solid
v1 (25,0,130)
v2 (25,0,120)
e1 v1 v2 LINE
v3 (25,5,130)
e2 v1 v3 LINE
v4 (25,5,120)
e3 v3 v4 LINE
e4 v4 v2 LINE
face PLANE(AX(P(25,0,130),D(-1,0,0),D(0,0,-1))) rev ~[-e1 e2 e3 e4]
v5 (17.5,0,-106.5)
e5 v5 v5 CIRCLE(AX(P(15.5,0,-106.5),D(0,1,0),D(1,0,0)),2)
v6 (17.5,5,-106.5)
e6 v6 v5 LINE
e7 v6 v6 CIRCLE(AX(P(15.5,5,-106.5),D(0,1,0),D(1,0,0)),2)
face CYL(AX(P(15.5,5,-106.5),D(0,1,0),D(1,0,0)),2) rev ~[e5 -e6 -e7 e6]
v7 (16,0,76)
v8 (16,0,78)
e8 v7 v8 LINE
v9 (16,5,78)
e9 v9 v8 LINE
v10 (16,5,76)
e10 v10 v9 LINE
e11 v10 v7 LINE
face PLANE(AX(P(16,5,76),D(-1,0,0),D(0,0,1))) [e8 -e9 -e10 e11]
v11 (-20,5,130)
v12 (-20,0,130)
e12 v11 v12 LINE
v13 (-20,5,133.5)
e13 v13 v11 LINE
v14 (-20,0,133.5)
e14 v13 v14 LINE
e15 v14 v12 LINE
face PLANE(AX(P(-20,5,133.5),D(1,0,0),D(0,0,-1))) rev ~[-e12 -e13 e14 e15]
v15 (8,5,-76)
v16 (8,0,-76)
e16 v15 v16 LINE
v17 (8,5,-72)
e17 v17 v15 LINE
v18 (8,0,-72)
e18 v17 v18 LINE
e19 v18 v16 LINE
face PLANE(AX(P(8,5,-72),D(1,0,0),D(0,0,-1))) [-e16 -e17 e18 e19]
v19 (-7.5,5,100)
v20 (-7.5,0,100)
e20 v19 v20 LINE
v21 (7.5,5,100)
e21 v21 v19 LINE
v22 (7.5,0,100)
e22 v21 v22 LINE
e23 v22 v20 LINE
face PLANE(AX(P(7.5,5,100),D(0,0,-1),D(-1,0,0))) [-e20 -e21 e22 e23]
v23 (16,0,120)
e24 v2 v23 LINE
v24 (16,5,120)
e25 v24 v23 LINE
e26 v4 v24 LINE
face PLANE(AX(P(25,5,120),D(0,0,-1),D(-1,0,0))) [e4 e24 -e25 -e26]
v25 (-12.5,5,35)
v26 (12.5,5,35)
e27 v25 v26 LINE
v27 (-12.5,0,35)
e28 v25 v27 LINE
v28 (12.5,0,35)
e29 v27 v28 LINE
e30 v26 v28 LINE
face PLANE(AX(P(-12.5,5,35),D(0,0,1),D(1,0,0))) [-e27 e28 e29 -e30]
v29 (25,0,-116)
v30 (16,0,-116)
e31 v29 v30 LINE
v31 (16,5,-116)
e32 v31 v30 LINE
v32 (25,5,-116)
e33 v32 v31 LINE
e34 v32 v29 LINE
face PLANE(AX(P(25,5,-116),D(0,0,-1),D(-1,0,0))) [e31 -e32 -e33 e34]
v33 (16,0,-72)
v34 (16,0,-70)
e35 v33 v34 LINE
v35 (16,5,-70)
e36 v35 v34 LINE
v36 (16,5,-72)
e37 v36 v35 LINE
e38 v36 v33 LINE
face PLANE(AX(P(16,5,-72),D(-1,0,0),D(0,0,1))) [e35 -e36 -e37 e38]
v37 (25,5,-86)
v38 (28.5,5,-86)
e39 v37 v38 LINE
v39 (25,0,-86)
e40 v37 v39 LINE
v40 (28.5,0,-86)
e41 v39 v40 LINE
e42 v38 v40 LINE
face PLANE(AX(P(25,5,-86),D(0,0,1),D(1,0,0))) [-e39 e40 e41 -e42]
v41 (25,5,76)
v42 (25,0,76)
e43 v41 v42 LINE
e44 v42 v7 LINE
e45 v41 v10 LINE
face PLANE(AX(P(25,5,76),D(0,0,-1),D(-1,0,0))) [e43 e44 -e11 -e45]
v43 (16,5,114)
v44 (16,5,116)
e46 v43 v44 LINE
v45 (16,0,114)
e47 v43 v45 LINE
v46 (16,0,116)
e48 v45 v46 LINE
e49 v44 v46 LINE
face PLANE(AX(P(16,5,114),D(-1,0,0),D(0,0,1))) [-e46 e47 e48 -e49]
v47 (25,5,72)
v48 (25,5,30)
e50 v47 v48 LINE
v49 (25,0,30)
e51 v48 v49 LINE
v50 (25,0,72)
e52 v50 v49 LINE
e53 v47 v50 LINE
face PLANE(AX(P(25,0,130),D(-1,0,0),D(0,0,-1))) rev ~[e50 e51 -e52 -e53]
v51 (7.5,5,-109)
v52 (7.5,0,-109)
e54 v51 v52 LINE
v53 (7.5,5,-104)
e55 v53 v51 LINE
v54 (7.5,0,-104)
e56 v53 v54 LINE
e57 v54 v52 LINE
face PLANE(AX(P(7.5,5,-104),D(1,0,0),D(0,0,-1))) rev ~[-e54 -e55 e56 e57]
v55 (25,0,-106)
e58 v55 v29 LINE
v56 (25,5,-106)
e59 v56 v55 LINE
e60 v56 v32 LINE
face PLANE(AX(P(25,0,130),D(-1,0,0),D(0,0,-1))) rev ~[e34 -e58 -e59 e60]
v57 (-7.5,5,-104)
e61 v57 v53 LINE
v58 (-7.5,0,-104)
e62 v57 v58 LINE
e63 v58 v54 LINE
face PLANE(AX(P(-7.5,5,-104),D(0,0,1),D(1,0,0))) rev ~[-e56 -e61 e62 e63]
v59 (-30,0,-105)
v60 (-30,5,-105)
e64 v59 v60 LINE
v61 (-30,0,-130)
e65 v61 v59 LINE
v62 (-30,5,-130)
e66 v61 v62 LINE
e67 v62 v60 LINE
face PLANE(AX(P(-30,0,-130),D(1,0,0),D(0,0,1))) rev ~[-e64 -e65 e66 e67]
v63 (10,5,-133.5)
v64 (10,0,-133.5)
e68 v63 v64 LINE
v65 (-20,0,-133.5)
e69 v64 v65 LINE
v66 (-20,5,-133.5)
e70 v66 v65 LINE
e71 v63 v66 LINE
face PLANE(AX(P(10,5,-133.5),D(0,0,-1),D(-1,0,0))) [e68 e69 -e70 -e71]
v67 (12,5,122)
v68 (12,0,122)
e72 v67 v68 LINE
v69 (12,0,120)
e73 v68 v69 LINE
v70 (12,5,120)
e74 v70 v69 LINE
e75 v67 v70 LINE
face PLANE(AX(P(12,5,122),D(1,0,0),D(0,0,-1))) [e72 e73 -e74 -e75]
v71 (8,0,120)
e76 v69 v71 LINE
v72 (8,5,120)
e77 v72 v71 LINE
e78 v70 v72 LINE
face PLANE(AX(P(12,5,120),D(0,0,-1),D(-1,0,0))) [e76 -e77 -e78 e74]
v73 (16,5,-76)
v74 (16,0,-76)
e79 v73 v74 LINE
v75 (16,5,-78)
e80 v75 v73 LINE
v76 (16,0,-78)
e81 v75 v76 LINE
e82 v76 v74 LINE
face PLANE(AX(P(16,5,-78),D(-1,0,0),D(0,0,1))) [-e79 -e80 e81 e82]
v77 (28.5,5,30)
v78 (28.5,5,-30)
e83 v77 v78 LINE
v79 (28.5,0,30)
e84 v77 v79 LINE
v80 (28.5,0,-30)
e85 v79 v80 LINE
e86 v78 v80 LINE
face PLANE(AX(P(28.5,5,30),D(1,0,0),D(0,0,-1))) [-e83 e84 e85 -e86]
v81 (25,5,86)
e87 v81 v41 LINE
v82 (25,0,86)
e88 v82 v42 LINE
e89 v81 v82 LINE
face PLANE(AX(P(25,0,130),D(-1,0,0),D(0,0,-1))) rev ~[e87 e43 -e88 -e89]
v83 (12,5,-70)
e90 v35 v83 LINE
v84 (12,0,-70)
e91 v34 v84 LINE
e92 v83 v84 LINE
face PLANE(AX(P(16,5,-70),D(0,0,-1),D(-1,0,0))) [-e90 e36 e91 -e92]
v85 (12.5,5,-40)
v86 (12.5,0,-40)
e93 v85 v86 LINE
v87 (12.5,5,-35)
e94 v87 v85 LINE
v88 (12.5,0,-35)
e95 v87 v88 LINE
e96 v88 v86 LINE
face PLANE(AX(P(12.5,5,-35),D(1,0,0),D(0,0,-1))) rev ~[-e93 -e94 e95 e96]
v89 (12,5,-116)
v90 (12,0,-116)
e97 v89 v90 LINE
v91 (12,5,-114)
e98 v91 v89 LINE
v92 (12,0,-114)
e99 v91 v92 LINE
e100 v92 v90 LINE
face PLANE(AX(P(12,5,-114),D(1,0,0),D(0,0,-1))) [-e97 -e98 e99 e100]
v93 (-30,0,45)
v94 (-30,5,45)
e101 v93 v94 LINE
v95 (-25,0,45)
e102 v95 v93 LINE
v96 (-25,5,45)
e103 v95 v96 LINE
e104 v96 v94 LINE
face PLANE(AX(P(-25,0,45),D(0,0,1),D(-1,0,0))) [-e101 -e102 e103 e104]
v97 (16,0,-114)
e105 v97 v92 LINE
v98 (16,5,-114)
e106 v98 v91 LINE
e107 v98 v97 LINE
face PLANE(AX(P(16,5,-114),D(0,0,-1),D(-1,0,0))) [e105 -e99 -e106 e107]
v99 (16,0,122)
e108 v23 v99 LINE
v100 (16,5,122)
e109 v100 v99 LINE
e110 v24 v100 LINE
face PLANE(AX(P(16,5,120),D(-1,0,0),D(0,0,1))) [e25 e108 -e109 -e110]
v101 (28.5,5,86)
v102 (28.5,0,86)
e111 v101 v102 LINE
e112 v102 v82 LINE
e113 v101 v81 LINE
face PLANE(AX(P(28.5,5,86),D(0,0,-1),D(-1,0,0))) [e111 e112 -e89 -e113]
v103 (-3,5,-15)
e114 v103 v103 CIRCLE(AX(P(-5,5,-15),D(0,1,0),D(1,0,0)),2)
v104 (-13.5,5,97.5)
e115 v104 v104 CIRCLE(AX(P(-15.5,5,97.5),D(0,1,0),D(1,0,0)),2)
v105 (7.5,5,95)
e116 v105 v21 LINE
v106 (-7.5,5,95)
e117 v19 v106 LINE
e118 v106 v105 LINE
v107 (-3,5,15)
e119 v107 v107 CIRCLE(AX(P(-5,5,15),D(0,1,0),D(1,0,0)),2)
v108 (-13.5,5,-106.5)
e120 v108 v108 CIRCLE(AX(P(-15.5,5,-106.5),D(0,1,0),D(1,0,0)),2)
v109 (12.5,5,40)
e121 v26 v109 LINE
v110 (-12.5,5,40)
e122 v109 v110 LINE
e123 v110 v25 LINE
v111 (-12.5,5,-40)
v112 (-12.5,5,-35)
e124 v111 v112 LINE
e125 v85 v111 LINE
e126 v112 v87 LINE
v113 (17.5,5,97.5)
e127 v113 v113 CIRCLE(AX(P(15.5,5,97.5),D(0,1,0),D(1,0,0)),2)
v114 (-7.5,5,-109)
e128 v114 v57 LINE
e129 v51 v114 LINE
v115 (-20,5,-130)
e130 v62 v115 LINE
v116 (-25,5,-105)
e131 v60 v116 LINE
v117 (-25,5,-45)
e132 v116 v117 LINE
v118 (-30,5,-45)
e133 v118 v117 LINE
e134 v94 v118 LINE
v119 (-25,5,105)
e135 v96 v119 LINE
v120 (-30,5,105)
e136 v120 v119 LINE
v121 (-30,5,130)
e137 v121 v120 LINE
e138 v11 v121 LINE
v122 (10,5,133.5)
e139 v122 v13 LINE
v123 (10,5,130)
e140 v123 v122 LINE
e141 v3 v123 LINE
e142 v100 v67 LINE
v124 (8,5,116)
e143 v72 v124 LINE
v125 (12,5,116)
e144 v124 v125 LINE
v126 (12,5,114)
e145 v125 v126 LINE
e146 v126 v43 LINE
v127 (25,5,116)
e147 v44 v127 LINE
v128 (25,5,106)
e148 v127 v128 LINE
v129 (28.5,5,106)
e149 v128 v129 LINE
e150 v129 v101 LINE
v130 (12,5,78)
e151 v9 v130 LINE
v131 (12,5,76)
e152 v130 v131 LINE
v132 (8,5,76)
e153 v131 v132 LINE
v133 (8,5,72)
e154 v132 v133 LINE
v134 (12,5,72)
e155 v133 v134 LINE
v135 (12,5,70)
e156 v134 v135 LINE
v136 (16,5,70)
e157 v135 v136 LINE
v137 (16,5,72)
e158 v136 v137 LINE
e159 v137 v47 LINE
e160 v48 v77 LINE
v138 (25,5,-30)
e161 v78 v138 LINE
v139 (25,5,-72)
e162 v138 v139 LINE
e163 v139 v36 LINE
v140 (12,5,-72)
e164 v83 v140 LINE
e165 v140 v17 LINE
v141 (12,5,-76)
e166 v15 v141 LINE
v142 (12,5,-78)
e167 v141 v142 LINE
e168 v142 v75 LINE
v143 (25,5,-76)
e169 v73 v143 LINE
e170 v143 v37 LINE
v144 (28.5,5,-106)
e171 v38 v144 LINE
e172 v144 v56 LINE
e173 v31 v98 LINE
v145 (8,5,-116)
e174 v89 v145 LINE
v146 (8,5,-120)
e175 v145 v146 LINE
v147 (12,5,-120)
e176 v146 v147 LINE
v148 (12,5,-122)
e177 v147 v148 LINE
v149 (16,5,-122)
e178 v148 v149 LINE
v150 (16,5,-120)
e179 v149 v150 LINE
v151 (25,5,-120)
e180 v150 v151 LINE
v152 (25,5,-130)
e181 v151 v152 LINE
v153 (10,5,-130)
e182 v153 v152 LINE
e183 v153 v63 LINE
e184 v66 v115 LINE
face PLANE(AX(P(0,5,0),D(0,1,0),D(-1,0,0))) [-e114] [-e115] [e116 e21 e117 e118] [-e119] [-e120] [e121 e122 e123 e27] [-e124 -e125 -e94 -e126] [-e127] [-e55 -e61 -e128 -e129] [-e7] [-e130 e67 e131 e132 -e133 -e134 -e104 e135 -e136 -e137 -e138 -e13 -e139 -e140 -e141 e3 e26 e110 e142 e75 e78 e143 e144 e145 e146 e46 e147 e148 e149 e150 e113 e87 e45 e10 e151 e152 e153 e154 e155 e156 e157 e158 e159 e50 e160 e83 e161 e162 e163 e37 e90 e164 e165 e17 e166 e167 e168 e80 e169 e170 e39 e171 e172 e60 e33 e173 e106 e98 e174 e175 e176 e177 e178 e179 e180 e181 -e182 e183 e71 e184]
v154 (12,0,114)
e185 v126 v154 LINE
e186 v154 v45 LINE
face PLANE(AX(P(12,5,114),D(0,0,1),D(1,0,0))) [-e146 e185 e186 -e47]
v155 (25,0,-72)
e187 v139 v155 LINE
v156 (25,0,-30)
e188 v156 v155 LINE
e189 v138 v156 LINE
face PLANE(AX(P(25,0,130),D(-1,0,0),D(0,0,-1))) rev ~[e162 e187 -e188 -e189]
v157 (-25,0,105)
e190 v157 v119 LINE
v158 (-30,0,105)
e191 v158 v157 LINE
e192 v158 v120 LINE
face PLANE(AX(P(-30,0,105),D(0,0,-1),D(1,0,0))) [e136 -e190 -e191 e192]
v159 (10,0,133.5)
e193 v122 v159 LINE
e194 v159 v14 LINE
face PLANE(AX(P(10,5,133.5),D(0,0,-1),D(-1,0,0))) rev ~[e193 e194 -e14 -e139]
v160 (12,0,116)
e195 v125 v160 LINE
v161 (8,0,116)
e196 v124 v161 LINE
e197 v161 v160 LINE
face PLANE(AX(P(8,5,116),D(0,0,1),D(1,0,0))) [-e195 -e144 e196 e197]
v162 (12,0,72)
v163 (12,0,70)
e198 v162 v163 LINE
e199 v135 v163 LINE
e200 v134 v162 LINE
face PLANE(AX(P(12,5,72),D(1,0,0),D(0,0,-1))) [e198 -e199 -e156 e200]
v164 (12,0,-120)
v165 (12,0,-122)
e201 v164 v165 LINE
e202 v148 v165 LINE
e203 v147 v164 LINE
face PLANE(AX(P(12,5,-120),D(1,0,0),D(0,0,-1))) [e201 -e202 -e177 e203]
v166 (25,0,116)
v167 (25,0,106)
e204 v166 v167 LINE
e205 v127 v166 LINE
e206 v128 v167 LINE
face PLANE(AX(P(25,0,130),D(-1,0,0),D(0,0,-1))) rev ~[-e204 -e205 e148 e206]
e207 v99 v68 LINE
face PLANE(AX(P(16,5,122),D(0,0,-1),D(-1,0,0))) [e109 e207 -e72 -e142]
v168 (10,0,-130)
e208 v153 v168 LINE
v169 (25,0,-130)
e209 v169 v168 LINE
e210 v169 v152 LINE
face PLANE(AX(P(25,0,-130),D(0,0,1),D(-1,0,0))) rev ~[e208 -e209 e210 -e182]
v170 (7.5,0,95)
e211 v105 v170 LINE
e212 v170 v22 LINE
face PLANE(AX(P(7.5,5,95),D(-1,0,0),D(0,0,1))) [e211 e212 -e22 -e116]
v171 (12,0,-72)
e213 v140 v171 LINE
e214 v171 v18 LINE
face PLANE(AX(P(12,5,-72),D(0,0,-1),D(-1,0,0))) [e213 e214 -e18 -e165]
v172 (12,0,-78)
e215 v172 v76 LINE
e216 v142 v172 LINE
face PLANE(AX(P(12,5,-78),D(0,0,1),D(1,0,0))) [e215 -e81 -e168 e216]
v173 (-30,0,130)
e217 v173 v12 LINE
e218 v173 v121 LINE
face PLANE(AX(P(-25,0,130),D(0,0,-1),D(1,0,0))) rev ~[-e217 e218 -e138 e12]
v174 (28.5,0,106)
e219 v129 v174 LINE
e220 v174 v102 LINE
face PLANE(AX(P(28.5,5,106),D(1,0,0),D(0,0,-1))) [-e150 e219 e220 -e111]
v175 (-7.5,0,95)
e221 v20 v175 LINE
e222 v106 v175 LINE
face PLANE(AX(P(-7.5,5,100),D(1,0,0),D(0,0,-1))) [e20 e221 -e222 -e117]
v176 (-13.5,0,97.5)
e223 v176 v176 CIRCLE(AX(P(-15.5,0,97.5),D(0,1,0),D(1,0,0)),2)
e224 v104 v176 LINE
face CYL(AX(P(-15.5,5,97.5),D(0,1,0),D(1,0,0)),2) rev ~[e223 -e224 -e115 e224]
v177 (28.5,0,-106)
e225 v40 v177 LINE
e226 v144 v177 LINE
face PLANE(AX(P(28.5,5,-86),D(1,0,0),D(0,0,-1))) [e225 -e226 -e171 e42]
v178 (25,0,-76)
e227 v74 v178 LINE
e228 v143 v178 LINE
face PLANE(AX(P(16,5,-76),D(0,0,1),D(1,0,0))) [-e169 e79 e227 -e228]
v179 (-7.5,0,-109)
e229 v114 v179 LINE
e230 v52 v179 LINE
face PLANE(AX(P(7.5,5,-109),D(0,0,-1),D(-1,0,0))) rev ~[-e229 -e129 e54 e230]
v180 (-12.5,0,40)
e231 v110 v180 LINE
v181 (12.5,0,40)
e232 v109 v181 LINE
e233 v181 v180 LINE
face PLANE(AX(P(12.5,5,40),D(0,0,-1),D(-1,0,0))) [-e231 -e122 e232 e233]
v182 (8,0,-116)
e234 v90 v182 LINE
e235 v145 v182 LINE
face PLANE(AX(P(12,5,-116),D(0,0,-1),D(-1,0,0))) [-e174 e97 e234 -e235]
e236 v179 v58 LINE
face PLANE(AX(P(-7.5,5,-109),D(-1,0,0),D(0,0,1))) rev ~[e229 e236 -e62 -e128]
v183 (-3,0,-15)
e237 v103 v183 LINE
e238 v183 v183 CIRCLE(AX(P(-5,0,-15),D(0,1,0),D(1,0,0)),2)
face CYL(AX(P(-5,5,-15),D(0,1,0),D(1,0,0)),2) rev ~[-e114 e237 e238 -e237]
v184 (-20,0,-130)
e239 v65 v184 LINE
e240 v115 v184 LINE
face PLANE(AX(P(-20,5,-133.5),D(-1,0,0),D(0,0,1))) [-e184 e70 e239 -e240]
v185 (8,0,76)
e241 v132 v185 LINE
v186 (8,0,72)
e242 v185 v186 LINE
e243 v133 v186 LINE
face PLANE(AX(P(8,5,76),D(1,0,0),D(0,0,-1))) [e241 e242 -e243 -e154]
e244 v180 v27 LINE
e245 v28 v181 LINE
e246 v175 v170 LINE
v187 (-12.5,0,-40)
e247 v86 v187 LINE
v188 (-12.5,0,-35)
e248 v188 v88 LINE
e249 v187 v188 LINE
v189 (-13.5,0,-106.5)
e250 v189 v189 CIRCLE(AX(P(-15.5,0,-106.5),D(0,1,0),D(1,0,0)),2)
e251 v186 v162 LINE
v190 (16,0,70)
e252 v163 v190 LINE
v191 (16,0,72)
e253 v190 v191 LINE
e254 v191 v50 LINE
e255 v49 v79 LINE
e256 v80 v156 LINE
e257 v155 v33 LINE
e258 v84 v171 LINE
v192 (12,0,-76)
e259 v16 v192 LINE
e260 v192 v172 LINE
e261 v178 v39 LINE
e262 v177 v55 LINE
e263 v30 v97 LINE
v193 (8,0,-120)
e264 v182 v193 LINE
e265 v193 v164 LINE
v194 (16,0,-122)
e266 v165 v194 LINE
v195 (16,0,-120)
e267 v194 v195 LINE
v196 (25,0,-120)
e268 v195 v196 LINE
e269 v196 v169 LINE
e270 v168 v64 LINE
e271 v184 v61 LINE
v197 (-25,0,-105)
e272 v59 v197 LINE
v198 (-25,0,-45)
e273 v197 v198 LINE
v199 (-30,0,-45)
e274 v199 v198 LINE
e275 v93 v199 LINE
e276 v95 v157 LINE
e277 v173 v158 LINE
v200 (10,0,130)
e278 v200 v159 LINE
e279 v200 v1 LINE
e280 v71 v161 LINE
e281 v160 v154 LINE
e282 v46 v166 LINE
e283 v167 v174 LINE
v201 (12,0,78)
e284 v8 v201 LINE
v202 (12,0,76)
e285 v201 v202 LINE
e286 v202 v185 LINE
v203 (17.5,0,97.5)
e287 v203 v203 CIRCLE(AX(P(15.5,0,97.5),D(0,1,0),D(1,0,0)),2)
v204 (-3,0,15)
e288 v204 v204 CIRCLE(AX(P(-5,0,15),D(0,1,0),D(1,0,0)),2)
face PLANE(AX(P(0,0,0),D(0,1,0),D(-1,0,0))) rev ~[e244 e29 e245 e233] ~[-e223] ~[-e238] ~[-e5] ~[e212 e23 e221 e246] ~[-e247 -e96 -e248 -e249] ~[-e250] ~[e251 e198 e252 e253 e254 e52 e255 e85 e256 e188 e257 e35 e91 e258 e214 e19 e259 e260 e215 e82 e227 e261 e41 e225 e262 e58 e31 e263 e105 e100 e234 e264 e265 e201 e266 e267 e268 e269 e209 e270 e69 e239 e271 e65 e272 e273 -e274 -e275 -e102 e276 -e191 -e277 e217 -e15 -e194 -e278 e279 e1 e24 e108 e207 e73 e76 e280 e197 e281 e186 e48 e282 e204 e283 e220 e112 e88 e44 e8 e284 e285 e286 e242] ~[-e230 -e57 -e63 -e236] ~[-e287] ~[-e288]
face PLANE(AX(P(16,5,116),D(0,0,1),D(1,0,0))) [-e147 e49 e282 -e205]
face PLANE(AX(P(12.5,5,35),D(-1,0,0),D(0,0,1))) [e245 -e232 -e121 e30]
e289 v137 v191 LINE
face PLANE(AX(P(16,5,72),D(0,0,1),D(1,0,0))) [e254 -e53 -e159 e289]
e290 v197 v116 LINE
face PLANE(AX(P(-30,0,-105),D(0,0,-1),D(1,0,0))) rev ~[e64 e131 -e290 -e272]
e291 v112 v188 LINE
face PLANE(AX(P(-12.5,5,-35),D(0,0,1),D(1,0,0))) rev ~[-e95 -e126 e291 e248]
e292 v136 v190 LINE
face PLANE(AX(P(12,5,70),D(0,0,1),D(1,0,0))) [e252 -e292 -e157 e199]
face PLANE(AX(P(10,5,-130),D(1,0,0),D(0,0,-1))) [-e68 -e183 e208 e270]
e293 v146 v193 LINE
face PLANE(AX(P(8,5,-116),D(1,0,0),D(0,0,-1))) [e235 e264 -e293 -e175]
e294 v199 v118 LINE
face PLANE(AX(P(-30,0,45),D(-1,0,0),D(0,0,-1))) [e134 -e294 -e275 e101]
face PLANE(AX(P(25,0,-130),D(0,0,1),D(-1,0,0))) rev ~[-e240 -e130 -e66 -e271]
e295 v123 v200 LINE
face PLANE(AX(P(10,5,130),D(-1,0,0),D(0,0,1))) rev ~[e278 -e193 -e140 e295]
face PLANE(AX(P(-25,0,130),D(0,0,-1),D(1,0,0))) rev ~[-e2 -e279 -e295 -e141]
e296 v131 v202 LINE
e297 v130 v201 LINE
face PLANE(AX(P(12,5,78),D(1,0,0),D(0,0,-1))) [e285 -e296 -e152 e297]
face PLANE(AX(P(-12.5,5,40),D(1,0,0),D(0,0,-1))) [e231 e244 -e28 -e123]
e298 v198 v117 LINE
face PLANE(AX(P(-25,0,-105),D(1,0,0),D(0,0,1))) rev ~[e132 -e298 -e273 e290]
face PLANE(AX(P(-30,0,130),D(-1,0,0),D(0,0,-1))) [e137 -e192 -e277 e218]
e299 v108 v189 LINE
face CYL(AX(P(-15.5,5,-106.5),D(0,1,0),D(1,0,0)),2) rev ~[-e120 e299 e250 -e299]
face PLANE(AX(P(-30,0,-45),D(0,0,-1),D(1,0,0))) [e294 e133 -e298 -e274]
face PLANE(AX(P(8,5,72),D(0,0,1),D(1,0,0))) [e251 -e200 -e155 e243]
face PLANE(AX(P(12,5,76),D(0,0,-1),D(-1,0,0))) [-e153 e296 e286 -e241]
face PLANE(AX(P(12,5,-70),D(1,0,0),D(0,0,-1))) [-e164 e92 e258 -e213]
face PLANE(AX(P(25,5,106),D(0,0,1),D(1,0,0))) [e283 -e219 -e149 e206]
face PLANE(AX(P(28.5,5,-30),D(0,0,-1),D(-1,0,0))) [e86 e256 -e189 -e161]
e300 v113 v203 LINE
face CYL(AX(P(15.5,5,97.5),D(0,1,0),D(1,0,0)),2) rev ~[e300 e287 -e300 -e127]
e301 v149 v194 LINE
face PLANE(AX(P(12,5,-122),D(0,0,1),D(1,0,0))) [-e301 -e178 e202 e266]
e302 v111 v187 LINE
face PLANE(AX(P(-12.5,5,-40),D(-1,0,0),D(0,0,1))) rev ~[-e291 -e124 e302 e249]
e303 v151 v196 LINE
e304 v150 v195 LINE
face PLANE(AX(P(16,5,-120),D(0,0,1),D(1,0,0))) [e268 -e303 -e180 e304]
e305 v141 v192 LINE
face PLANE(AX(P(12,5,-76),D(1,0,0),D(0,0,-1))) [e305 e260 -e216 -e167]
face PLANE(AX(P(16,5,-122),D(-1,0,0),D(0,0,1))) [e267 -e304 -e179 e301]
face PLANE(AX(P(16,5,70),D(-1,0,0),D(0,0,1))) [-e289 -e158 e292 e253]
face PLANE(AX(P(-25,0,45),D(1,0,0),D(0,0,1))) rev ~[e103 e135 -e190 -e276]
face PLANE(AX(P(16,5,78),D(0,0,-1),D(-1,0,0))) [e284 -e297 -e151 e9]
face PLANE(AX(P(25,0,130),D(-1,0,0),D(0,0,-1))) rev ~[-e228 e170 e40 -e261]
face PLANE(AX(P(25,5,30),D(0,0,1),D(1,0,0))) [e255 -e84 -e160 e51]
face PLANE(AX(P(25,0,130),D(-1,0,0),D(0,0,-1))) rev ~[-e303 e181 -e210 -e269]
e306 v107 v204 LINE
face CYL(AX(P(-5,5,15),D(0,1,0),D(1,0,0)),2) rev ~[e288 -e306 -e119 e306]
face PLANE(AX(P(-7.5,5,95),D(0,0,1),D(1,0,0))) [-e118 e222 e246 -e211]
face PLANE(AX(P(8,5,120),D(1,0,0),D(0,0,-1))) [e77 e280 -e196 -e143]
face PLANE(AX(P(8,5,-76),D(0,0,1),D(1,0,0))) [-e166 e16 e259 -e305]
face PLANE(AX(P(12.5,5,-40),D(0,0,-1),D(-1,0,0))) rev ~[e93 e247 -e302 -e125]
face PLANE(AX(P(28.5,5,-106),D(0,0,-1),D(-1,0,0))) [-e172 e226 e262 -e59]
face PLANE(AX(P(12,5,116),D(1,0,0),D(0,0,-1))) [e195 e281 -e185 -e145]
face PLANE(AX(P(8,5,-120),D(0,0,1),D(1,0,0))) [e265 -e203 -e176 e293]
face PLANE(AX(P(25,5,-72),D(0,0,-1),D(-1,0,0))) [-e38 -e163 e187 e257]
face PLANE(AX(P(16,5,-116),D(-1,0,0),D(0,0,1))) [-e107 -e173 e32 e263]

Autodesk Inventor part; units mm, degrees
ref_plane "YZ Plane" through (0, 0, 0) normal (1, 0, 0) x (0, 1, 0)
ref_plane "XZ Plane" through (0, 0, 0) normal (0, 1, 0) x (-1, 0, 0)
ref_plane "XY Plane" through (0, 0, 0) normal (0, 0, 1) x (1, 0, 0)
sketch "Sketch1" plane through (0, 0, 0) normal (0, 1, 0) x (-1, 0, 0)
  line L0 (-25, -130) -> (25, -130)
  line L1 (25, 130) -> (-25, 130)
  line L2 (-25, 130) -> (-25, -130)
  line L3 (-25, -130) -> (25, 130) construction
  line L4 (25, -130) -> (-25, 130) construction
  line L5 (25, 130) -> (30, 130)
  line L6 (30, 130) -> (30, 105)
  line L7 (30, 105) -> (25, 105)
  line L8 (25, -130) -> (30, -130)
  line L9 (30, -130) -> (30, -105)
  line L10 (30, -105) -> (25, -105)
  line L11 (25, 105) -> (-25, 105) construction
  line L12 (3.2055, 0) -> (-25, 0) construction
  line L13 (25, -105) -> (-25, -105) construction
  line L14 (25, 45) -> (30, 45)
  line L15 (30, 45) -> (30, -45)
  line L16 (30, -45) -> (25, -45)
  line L17 (25, -105) -> (25, -45)
  line L18 (25, 45) -> (25, 105)
  point P0 (0, 0)
  dimension "d0" = 50
  dimension "d1" = 260
  dimension "d2" = 5
  dimension "d3" = 25
  dimension "d4" = 5
  dimension "d5" = 25
  dimension "d7" = 5
  dimension "d8" = 90
  dimension "d29" = 60
  dimension "d30" = 60
extrude "Extrusion1" add sketch "Sketch1" along normal blind 5
sketch "Sketch2" plane through (0, 5, 0) normal (0, 1, 0) x (1, 0, 0)
  line L0 (25, 130) -> (-30, 130) construction
  line L1 (-30, 130) -> (-30, 105) construction
  line L2 (-30, 105) -> (-25, 105) construction
  line L3 (-25, 105) -> (-25, 45) construction
  line L4 (-25, 45) -> (-30, 45) construction
  line L5 (-30, 45) -> (-30, -45) construction
  line L6 (-30, -45) -> (-25, -45) construction
  line L7 (-25, -45) -> (-25, -105) construction
  line L8 (-25, -105) -> (-30, -105) construction
  line L9 (-30, -105) -> (-30, -130) construction
  line L10 (-30, -130) -> (25, -130) construction
  line L11 (25, -130) -> (25, 130) construction
  line L12 (-30, 45) -> (-30, -45) construction
  line L13 (25, -130) -> (25, 130) construction
  line L14 (7.5, -100) -> (-7.5, -100)
  line L15 (-7.5, -100) -> (-7.5, -95)
  line L16 (-7.5, -95) -> (7.5, -95)
  line L17 (7.5, -95) -> (7.5, -100)
  line L18 (7.5, 109) -> (-7.5, 109)
  line L19 (-7.5, 109) -> (-7.5, 104)
  line L20 (-7.5, 104) -> (7.5, 104)
  line L21 (7.5, 104) -> (7.5, 109)
  line L22 (-7.5, 106.5) -> (25, 106.5) construction
  line L23 (-7.5, 106.5) -> (-30, 106.5) construction
  circle A0 centre (-15.5, 106.5) radius 2
  circle A1 centre (15.5, 106.5) radius 2
  line L24 (-7.5, -97.5) -> (25, -97.5) construction
  line L25 (-7.5, -97.5) -> (-25, -97.5) construction
  circle A2 centre (-15.5, -97.5) radius 2
  circle A3 centre (15.5, -97.5) radius 2
  point P0 (0, 0)
  dimension "d11" = 15
  dimension "d12" = 5
  dimension "d13" = 35
  dimension "d14" = 17.5
  dimension "d17" = 5
  dimension "d18" = 15
  dimension "d19" = 26
  dimension "d31" = 17.5
  dimension "d32" = 4
  dimension "d33" = 4
  dimension "d34" = 8
  dimension "d35" = 8
  dimension "d36" = 4
  dimension "d37" = 4
  dimension "d38" = 8
  dimension "d39" = 8
extrude "Extrusion2" cut sketch "Sketch2" against normal blind 5
sketch "Sketch3" plane through (0, 5, 0) normal (0, 1, 0) x (1, 0, 0)
  line L0 (7.5, -95) -> (7.5, -100) construction
  line L1 (7.5, -100) -> (-7.5, -100) construction
  line L2 (-7.5, -100) -> (-7.5, -95) construction
  line L3 (-7.5, -95) -> (7.5, -95) construction
  line L4 (7.5, 104) -> (-7.5, 104) construction
  line L5 (-7.5, 104) -> (-7.5, 109) construction
  line L6 (-7.5, 109) -> (7.5, 109) construction
  line L7 (7.5, 109) -> (7.5, 104) construction
  line L8 (25, 130) -> (-30, 130) construction
  line L9 (-30, 130) -> (-30, 105) construction
  line L10 (-30, 105) -> (-25, 105) construction
  line L11 (-25, 105) -> (-25, 45) construction
  line L12 (-25, 45) -> (-30, 45) construction
  line L13 (-30, 45) -> (-30, -45) construction
  line L14 (-30, -45) -> (-25, -45) construction
  line L15 (-25, -45) -> (-25, -105) construction
  line L16 (-25, -105) -> (-30, -105) construction
  line L17 (-30, -105) -> (-30, -130) construction
  line L18 (-30, -130) -> (25, -130) construction
  line L19 (25, -130) -> (25, 130) construction
  circle A0 centre (-5, 15) radius 2
  circle A1 centre (-5, -15) radius 2
  line L20 (-30, 45) -> (-30, -45) construction
  line L21 (-30, 0) -> (25, 0) construction
  point P0 (0, 0)
  dimension "d20" = 4
  dimension "d21" = 4
  dimension "d23" = 15
  dimension "d24" = 15
  dimension "d25" = 25
  dimension "d26" = 25
extrude "Extrusion3" cut sketch "Sketch3" against normal blind 5
sketch "Sketch4" plane through (0, 5, 0) normal (0, 1, 0) x (1, 0, 0)
  circle A0 centre (-5, 15) radius 2 construction
  circle A1 centre (-5, -15) radius 2 construction
  line L0 (7.5, -95) -> (7.5, -100) construction
  line L1 (7.5, -100) -> (-7.5, -100) construction
  line L2 (-7.5, -100) -> (-7.5, -95) construction
  line L3 (-7.5, -95) -> (7.5, -95) construction
  circle A2 centre (-15.5, -97.5) radius 2 construction
  circle A3 centre (-15.5, 106.5) radius 2 construction
  circle A4 centre (15.5, 106.5) radius 2 construction
  circle A5 centre (15.5, -97.5) radius 2 construction
  line L4 (7.5, 104) -> (-7.5, 104) construction
  line L5 (-7.5, 104) -> (-7.5, 109) construction
  line L6 (-7.5, 109) -> (7.5, 109) construction
  line L7 (7.5, 109) -> (7.5, 104) construction
  line L8 (25, 130) -> (-30, 130) construction
  line L9 (-30, 130) -> (-30, 105) construction
  line L10 (-30, 105) -> (-25, 105) construction
  line L11 (-25, 105) -> (-25, 45) construction
  line L12 (-25, 45) -> (-30, 45) construction
  line L13 (-30, 45) -> (-30, -45) construction
  line L14 (-30, -45) -> (-25, -45) construction
  line L15 (-25, -45) -> (-25, -105) construction
  line L16 (-25, -105) -> (-30, -105) construction
  line L17 (-30, -105) -> (-30, -130) construction
  line L18 (-30, -130) -> (25, -130) construction
  line L19 (25, -130) -> (25, 130) construction
  line L20 (0, 0) -> (0, -130) construction
  line L21 (-30, -130) -> (25, -130) construction
  line L22 (0, 0) -> (0, 130) construction
  line L23 (25, 130) -> (-30, 130) construction
  line L24 (25, 0) -> (-30, 0) construction
  line L25 (-30, 45) -> (-30, -45) construction
  line L26 (12.5, 40) -> (-12.5, 40)
  line L27 (-12.5, 40) -> (-12.5, 35)
  line L28 (-12.5, 35) -> (12.5, 35)
  line L29 (12.5, 35) -> (12.5, 40)
  line L30 (12.5, 40) -> (-12.5, 35) construction
  line L31 (-12.5, 40) -> (12.5, 35) construction
  line L32 (12.5, -40) -> (-12.5, -40)
  line L33 (-12.5, -40) -> (-12.5, -35)
  line L34 (-12.5, -35) -> (12.5, -35)
  line L35 (12.5, -35) -> (12.5, -40)
  line L36 (12.5, -40) -> (-12.5, -35) construction
  line L37 (-12.5, -40) -> (12.5, -35) construction
  point P0 (0, 37.5)
  point P1 (0, -37.5)
  dimension "d42" = 25
  dimension "d43" = 5
  dimension "d44" = 90
extrude "Extrusion4" cut sketch "Sketch4" against normal blind 10
sketch "Sketch5" plane through (0, 5, 0) normal (0, 1, 0) x (1, 0, 0)
  line L0 (-12.5, 35) -> (-12.5, 40) construction
  line L1 (-12.5, 40) -> (12.5, 40) construction
  line L2 (12.5, 40) -> (12.5, 35) construction
  line L3 (12.5, 35) -> (-12.5, 35) construction
  line L4 (12.5, -40) -> (-12.5, -40) construction
  line L5 (-12.5, -40) -> (-12.5, -35) construction
  line L6 (-12.5, -35) -> (12.5, -35) construction
  line L7 (12.5, -35) -> (12.5, -40) construction
  circle A0 centre (-5, 15) radius 2 construction
  circle A1 centre (-5, -15) radius 2 construction
  line L8 (7.5, -95) -> (7.5, -100) construction
  line L9 (7.5, -100) -> (-7.5, -100) construction
  line L10 (-7.5, -100) -> (-7.5, -95) construction
  line L11 (-7.5, -95) -> (7.5, -95) construction
  circle A2 centre (-15.5, -97.5) radius 2 construction
  circle A3 centre (-15.5, 106.5) radius 2 construction
  circle A4 centre (15.5, 106.5) radius 2 construction
  circle A5 centre (15.5, -97.5) radius 2 construction
  line L12 (7.5, 104) -> (-7.5, 104) construction
  line L13 (-7.5, 104) -> (-7.5, 109) construction
  line L14 (-7.5, 109) -> (7.5, 109) construction
  line L15 (7.5, 109) -> (7.5, 104) construction
  line L16 (25, 130) -> (-30, 130) construction
  line L17 (-30, 130) -> (-30, 105) construction
  line L18 (-30, 105) -> (-25, 105) construction
  line L19 (-25, 105) -> (-25, 45) construction
  line L20 (-25, 45) -> (-30, 45) construction
  line L21 (-30, 45) -> (-30, -45) construction
  line L22 (-30, -45) -> (-25, -45) construction
  line L23 (-25, -45) -> (-25, -105) construction
  line L24 (-25, -105) -> (-30, -105) construction
  line L25 (-30, -105) -> (-30, -130) construction
  line L26 (-30, -130) -> (25, -130) construction
  line L27 (25, -130) -> (25, 130) construction
  line L28 (0, -40) -> (0, -45) construction
  line L29 (0, -45) -> (-20, -45) construction
  line L30 (-20, -45) -> (-20, -40) construction
  line L31 (-20, -40) -> (0, -40) construction
  line L32 (0, 45) -> (0, 40) construction
  line L33 (0, 40) -> (-20, 40) construction
  line L34 (-20, 40) -> (-20, 45) construction
  line L35 (-20, 45) -> (0, 45) construction
  circle A6 centre (-30.5, 97.5) radius 2 construction
  circle A7 centre (-30.5, -106.5) radius 2 construction
  circle A8 centre (10.5, -106.5) radius 2 construction
  circle A9 centre (10.5, 97.5) radius 2 construction
  line L36 (-22.5, 95) -> (-22.5, 100) construction
  line L37 (-22.5, 100) -> (2.5, 100) construction
  line L38 (2.5, 100) -> (2.5, 95) construction
  line L39 (2.5, 95) -> (-22.5, 95) construction
  line L40 (2.5, -109) -> (-22.5, -109) construction
  line L41 (-22.5, -109) -> (-22.5, -104) construction
  line L42 (-22.5, -104) -> (2.5, -104) construction
  line L43 (2.5, -104) -> (2.5, -109) construction
  line L44 (-50, -130) -> (25, -130) construction
  line L45 (25, -130) -> (25, 130) construction
  line L46 (25, 130) -> (-50, 130) construction
  line L47 (-50, 130) -> (-50, 105) construction
  line L48 (-50, 105) -> (-45, 105) construction
  line L49 (-45, 105) -> (-45, 45) construction
  line L50 (-45, 45) -> (-50, 45) construction
  line L51 (-50, 45) -> (-50, -45) construction
  line L52 (-50, -45) -> (-45, -45) construction
  line L53 (-45, -45) -> (-45, -105) construction
  line L54 (-45, -105) -> (-50, -105) construction
  line L55 (-50, -105) -> (-50, -130) construction
  line L56 (25, -130) -> (25, 130) construction
  line L57 (25, -120) -> (10, -120) construction
  line L58 (10, -120) -> (10, -116) construction
  line L59 (10, -116) -> (25, -116) construction
  line L60 (25, -116) -> (25, -120) construction
  line L61 (10, -118) -> (25, -118) construction
  line L62 (18, -114) -> (14, -114) construction
  line L63 (14, -114) -> (14, -122) construction
  line L64 (14, -122) -> (18, -122) construction
  line L65 (18, -122) -> (18, -114) construction
  line L66 (18, -114) -> (14, -122) construction
  line L67 (14, -114) -> (18, -122) construction
  line L68 (25, -116) -> (25, -120)
  line L69 (25, -120) -> (18, -120)
  line L70 (18, -120) -> (18, -122)
  line L71 (18, -122) -> (14, -122)
  line L72 (14, -122) -> (14, -120)
  line L73 (14, -120) -> (10, -120)
  line L74 (10, -120) -> (10, -116)
  line L75 (10, -116) -> (14, -116)
  line L76 (14, -116) -> (14, -114)
  line L77 (14, -114) -> (18, -114)
  line L78 (18, -114) -> (18, -116)
  line L79 (18, -116) -> (25, -116)
  line L80 (18, -70) -> (14, -70) construction
  line L81 (14, -70) -> (18, -70)
  line L82 (18, -70) -> (18, -72)
  line L83 (10, -72) -> (25, -72) construction
  line L84 (10, -74) -> (25, -74) construction
  line L85 (25, -76) -> (10, -76) construction
  line L86 (18, -78) -> (18, -70) construction
  line L87 (18, -70) -> (14, -78) construction
  line L88 (14, -70) -> (18, -78) construction
  line L89 (14, -70) -> (14, -78) construction
  line L90 (14, -78) -> (18, -78) construction
  line L91 (18, -78) -> (14, -78)
  line L92 (18, -76) -> (18, -78)
  line L93 (25, -76) -> (18, -76)
  line L94 (25, -72) -> (25, -76) construction
  line L95 (25, -72) -> (25, -76)
  line L96 (18, -72) -> (25, -72)
  line L97 (10, -76) -> (10, -72) construction
  line L98 (14, -78) -> (14, -76)
  line L99 (14, -72) -> (14, -70)
  line L100 (10, -72) -> (14, -72)
  line L101 (14, -76) -> (10, -76)
  line L102 (10, -76) -> (10, -72)
  line L103 (25, -106) -> (28.5, -106)
  line L104 (28.5, -106) -> (28.5, -86)
  line L105 (28.5, -86) -> (25, -86)
  line L106 (25, -86) -> (25, -106)
  line L107 (25, 106) -> (25, 86)
  line L108 (28.5, 106) -> (25, 106)
  line L109 (28.5, 86) -> (28.5, 106)
  line L110 (25, 86) -> (28.5, 86)
  line L111 (10, 72) -> (10, 76) construction
  line L112 (10, 72) -> (10, 76)
  line L113 (14, 76) -> (14, 78)
  line L114 (10, 76) -> (14, 76)
  line L115 (14, 72) -> (10, 72)
  line L116 (14, 70) -> (14, 72)
  line L117 (14, 78) -> (14, 70) construction
  line L118 (18, 72) -> (18, 70)
  line L119 (18, 70) -> (18, 78) construction
  line L120 (18, 70) -> (14, 70)
  line L121 (18, 78) -> (14, 70) construction
  line L122 (14, 78) -> (18, 70) construction
  line L123 (14, 70) -> (18, 70) construction
  line L124 (18, 78) -> (18, 76)
  line L125 (18, 78) -> (14, 78) construction
  line L126 (10, 76) -> (25, 76) construction
  line L127 (10, 74) -> (25, 74) construction
  line L128 (25, 72) -> (10, 72) construction
  line L129 (14, 78) -> (18, 78)
  line L130 (18, 122) -> (14, 122) construction
  line L131 (14, 122) -> (18, 122)
  line L132 (18, 122) -> (18, 120)
  line L133 (10, 118) -> (25, 118) construction
  line L134 (25, 116) -> (10, 116) construction
  line L135 (10, 120) -> (25, 120) construction
  line L136 (14, 114) -> (18, 114) construction
  line L137 (18, 114) -> (14, 114)
  line L138 (14, 114) -> (14, 116)
  line L139 (14, 116) -> (10, 116)
  line L140 (10, 120) -> (14, 120)
  line L141 (10, 116) -> (10, 120)
  line L142 (10, 116) -> (10, 120) construction
  line L143 (18, 114) -> (18, 122) construction
  line L144 (18, 122) -> (14, 114) construction
  line L145 (14, 122) -> (14, 114) construction
  line L146 (14, 120) -> (14, 122)
  line L147 (14, 122) -> (18, 114) construction
  line L148 (18, 76) -> (25, 76)
  line L149 (25, 76) -> (25, 72) construction
  line L150 (25, 76) -> (25, 72)
  line L151 (25, 72) -> (18, 72)
  line L152 (25, 120) -> (25, 116) construction
  line L153 (25, 120) -> (25, 116)
  line L154 (18, 120) -> (25, 120)
  line L155 (25, 116) -> (18, 116)
  line L156 (18, 116) -> (18, 114)
  line L157 (25, -30) -> (28.5, -30)
  line L158 (28.5, -30) -> (28.5, 30)
  line L159 (28.5, 30) -> (25, 30)
  line L160 (25, 30) -> (25, -30)
  line L161 (25, -130) -> (25, 130)
  point P0 (0, 0)
  point P1 (0, 0)
  point P2 (16, -118)
  point P3 (16, -74)
  point P4 (16, 74)
  point P5 (16, 118)
  dimension "d47" = 15
  dimension "d48" = 4
  dimension "d49" = 4
  dimension "d50" = 8
  dimension "d51" = 4
  dimension "d52" = 10
  dimension "d53" = 15
  dimension "d54" = 4
  dimension "d55" = 4
  dimension "d56" = 8
  dimension "d57" = 4
  dimension "d58" = 40
  dimension "d59" = 3.5
  dimension "d60" = 20
  dimension "d61" = 10
  dimension "d62" = 15
  dimension "d63" = 4
  dimension "d64" = 4
  dimension "d65" = 8
  dimension "d66" = 4
  dimension "d67" = 15
  dimension "d68" = 4
  dimension "d69" = 4
  dimension "d70" = 8
  dimension "d71" = 4
  dimension "d72" = 40
  dimension "d73" = 3.5
  dimension "d74" = 20
  dimension "d75" = 10
  dimension "d76" = 10
  dimension "d77" = 3.5
  dimension "d78" = 60
  dimension "d79" = 30
extrude "Extrusion5" add sketch "Sketch5" against normal blind 5 contours L107 L108 L109 L110 | L160 L159 L158 L157 | L106 L105 L104 L103
sketch "Sketch6" plane through (0, 5, 0) normal (0, 1, 0) x (1, 0, 0)
  line L0 (-12.5, 35) -> (-12.5, 40) construction
  line L1 (-12.5, 40) -> (12.5, 40) construction
  line L2 (12.5, 40) -> (12.5, 35) construction
  line L3 (12.5, 35) -> (-12.5, 35) construction
  line L4 (12.5, -40) -> (-12.5, -40) construction
  line L5 (-12.5, -40) -> (-12.5, -35) construction
  line L6 (-12.5, -35) -> (12.5, -35) construction
  line L7 (12.5, -35) -> (12.5, -40) construction
  circle A0 centre (-5, 15) radius 2 construction
  circle A1 centre (-5, -15) radius 2 construction
  line L8 (7.5, -95) -> (7.5, -100) construction
  line L9 (7.5, -100) -> (-7.5, -100) construction
  line L10 (-7.5, -100) -> (-7.5, -95) construction
  line L11 (-7.5, -95) -> (7.5, -95) construction
  circle A2 centre (-15.5, -97.5) radius 2 construction
  circle A3 centre (-15.5, 106.5) radius 2 construction
  circle A4 centre (15.5, 106.5) radius 2 construction
  circle A5 centre (15.5, -97.5) radius 2 construction
  line L12 (7.5, 104) -> (-7.5, 104) construction
  line L13 (-7.5, 104) -> (-7.5, 109) construction
  line L14 (-7.5, 109) -> (7.5, 109) construction
  line L15 (7.5, 109) -> (7.5, 104) construction
  line L16 (25, 130) -> (-30, 130) construction
  line L17 (-30, 130) -> (-30, 105) construction
  line L18 (-30, 105) -> (-25, 105) construction
  line L19 (-25, 105) -> (-25, 45) construction
  line L20 (-25, 45) -> (-30, 45) construction
  line L21 (-30, 45) -> (-30, -45) construction
  line L22 (-30, -45) -> (-25, -45) construction
  line L23 (-25, -45) -> (-25, -105) construction
  line L24 (-25, -105) -> (-30, -105) construction
  line L25 (-30, -105) -> (-30, -130) construction
  line L26 (-30, -130) -> (25, -130) construction
  line L27 (25, -130) -> (25, -106) construction
  line L28 (25, -106) -> (28.5, -106) construction
  line L29 (28.5, -106) -> (28.5, -86) construction
  line L30 (28.5, -86) -> (25, -86) construction
  line L31 (25, -86) -> (25, -30) construction
  line L32 (25, -30) -> (28.5, -30) construction
  line L33 (28.5, -30) -> (28.5, 30) construction
  line L34 (28.5, 30) -> (25, 30) construction
  line L35 (25, 30) -> (25, 86) construction
  line L36 (28.5, 86) -> (25, 86) construction
  line L37 (28.5, 106) -> (28.5, 86) construction
  line L38 (25, 106) -> (28.5, 106) construction
  line L39 (25, 106) -> (25, 130) construction
  line L40 (0, -40) -> (0, -45) construction
  line L41 (0, -45) -> (-20, -45) construction
  line L42 (-20, -45) -> (-20, -40) construction
  line L43 (-20, -40) -> (0, -40) construction
  line L44 (0, 45) -> (0, 40) construction
  line L45 (0, 40) -> (-20, 40) construction
  line L46 (-20, 40) -> (-20, 45) construction
  line L47 (-20, 45) -> (0, 45) construction
  circle A6 centre (-30.5, 97.5) radius 2 construction
  circle A7 centre (-30.5, -106.5) radius 2 construction
  circle A8 centre (10.5, -106.5) radius 2 construction
  circle A9 centre (10.5, 97.5) radius 2 construction
  line L48 (-22.5, 95) -> (-22.5, 100) construction
  line L49 (-22.5, 100) -> (2.5, 100) construction
  line L50 (2.5, 100) -> (2.5, 95) construction
  line L51 (2.5, 95) -> (-22.5, 95) construction
  line L52 (2.5, -109) -> (-22.5, -109) construction
  line L53 (-22.5, -109) -> (-22.5, -104) construction
  line L54 (-22.5, -104) -> (2.5, -104) construction
  line L55 (2.5, -104) -> (2.5, -109) construction
  line L56 (-50, -130) -> (25, -130) construction
  line L57 (25, -130) -> (25, -106) construction
  line L58 (25, -106) -> (30.5, -106) construction
  line L59 (30.5, -106) -> (30.5, -86) construction
  line L60 (30.5, -86) -> (23, -86) construction
  line L61 (23, -86) -> (23, -30) construction
  line L62 (23, -30) -> (26.5, -30) construction
  line L63 (26.5, -30) -> (26.5, 30) construction
  line L64 (26.5, 30) -> (23, 30) construction
  line L65 (23, 30) -> (23, 86) construction
  line L66 (26.5, 86) -> (23, 86) construction
  line L67 (26.5, 106) -> (26.5, 86) construction
  line L68 (23, 106) -> (26.5, 106) construction
  line L69 (23, 106) -> (23, 130) construction
  line L70 (23, 130) -> (-50, 130) construction
  line L71 (-50, 130) -> (-50, 105) construction
  line L72 (-50, 105) -> (-45, 105) construction
  line L73 (-45, 105) -> (-45, 45) construction
  line L74 (-45, 45) -> (-50, 45) construction
  line L75 (-50, 45) -> (-50, -45) construction
  line L76 (-50, -45) -> (-45, -45) construction
  line L77 (-45, -45) -> (-45, -105) construction
  line L78 (-45, -105) -> (-50, -105) construction
  line L79 (-50, -105) -> (-50, -130) construction
  line L80 (25, -130) -> (25, -106) construction
  line L81 (25, -120) -> (8, -120) construction
  line L82 (8, -120) -> (8, -116) construction
  line L83 (8, -116) -> (25, -116) construction
  line L84 (25, -116) -> (25, -120) construction
  line L85 (8, -118) -> (25, -118) construction
  line L86 (16, -122) -> (12, -122) construction
  line L87 (12, -122) -> (12, -114) construction
  line L88 (12, -114) -> (16, -114) construction
  line L89 (16, -114) -> (16, -122) construction
  line L90 (16, -122) -> (12, -114) construction
  line L91 (12, -122) -> (16, -114) construction
  line L92 (25, -120) -> (16, -120)
  line L93 (16, -120) -> (16, -122)
  line L94 (16, -122) -> (12, -122)
  line L95 (12, -122) -> (12, -120)
  line L96 (12, -120) -> (8, -120)
  line L97 (8, -120) -> (8, -116)
  line L98 (8, -116) -> (12, -116)
  line L99 (12, -116) -> (12, -114)
  line L100 (12, -114) -> (16, -114)
  line L101 (16, -114) -> (16, -116)
  line L102 (16, -116) -> (25, -116)
  line L103 (25, -120) -> (25, -116)
  line L104 (16, -76) -> (16, -78)
  line L105 (16, -78) -> (12, -78)
  line L106 (12, -78) -> (12, -76)
  line L107 (16, -78) -> (12, -78) construction
  line L108 (16, -70) -> (16, -72)
  line L109 (25, -76) -> (16, -76)
  line L110 (12, -70) -> (16, -70) construction
  line L111 (12, -70) -> (16, -70)
  line L112 (12, -72) -> (12, -70)
  line L113 (16, -70) -> (16, -78) construction
  line L114 (12, -76) -> (8, -76)
  line L115 (12, -78) -> (16, -70) construction
  line L116 (12, -78) -> (12, -70) construction
  line L117 (16, -78) -> (12, -70) construction
  line L118 (8, -72) -> (12, -72)
  line L119 (8, -76) -> (8, -72)
  line L120 (25, -76) -> (8, -76) construction
  line L121 (8, -72) -> (25, -72) construction
  line L122 (8, -74) -> (25, -74) construction
  line L123 (16, -72) -> (25, -72)
  line L124 (25, -76) -> (25, -72)
  line L125 (25, -72) -> (25, -76) construction
  line L126 (8, -76) -> (8, -72) construction
  line L127 (16, 72) -> (16, 70)
  line L128 (16, 70) -> (12, 70)
  line L129 (12, 70) -> (12, 72)
  line L130 (16, 70) -> (12, 70) construction
  line L131 (16, 78) -> (16, 76)
  line L132 (25, 72) -> (16, 72)
  line L133 (12, 78) -> (16, 78) construction
  line L134 (12, 78) -> (16, 78)
  line L135 (12, 76) -> (12, 78)
  line L136 (16, 78) -> (16, 70) construction
  line L137 (12, 72) -> (8, 72)
  line L138 (12, 70) -> (16, 78) construction
  line L139 (12, 70) -> (12, 78) construction
  line L140 (16, 70) -> (12, 78) construction
  line L141 (8, 76) -> (12, 76)
  line L142 (8, 72) -> (8, 76)
  line L143 (25, 72) -> (8, 72) construction
  line L144 (8, 76) -> (25, 76) construction
  line L145 (8, 74) -> (25, 74) construction
  line L146 (16, 76) -> (25, 76)
  line L147 (25, 72) -> (25, 76)
  line L148 (25, 76) -> (25, 72) construction
  line L149 (8, 72) -> (8, 76) construction
  line L150 (16, 116) -> (16, 114)
  line L151 (16, 114) -> (12, 114)
  line L152 (12, 114) -> (12, 116)
  line L153 (16, 114) -> (12, 114) construction
  line L154 (16, 122) -> (16, 120)
  line L155 (25, 116) -> (16, 116)
  line L156 (12, 122) -> (16, 122) construction
  line L157 (12, 122) -> (16, 122)
  line L158 (12, 120) -> (12, 122)
  line L159 (16, 122) -> (16, 114) construction
  line L160 (12, 116) -> (8, 116)
  line L161 (12, 114) -> (16, 122) construction
  line L162 (12, 114) -> (12, 122) construction
  line L163 (16, 114) -> (12, 122) construction
  line L164 (8, 120) -> (12, 120)
  line L165 (8, 116) -> (8, 120)
  line L166 (25, 116) -> (8, 116) construction
  line L167 (8, 120) -> (25, 120) construction
  line L168 (8, 118) -> (25, 118) construction
  line L169 (16, 120) -> (25, 120)
  line L170 (25, 116) -> (25, 120)
  line L171 (25, 120) -> (25, 116) construction
  line L172 (8, 116) -> (8, 120) construction
  point P0 (0, 0)
  point P1 (14, -118)
  point P2 (14, -74)
  point P3 (14, 74)
  point P4 (14, 118)
  dimension "d82" = 17
  dimension "d83" = 4
  dimension "d84" = 4
  dimension "d85" = 8
  dimension "d86" = 10
  dimension "d87" = 17
  dimension "d88" = 4
  dimension "d89" = 4
  dimension "d90" = 8
  dimension "d91" = 17
  dimension "d92" = 4
  dimension "d93" = 4
  dimension "d94" = 8
  dimension "d95" = 17
  dimension "d96" = 4
  dimension "d97" = 4
  dimension "d98" = 8
  dimension "d99" = 10
  dimension "d100" = 10
  dimension "d101" = 10
  dimension "d112" = 0
  dimension "d113" = 0
  dimension "d114" = 4
  dimension "d115" = 4
  dimension "d116" = 0
  dimension "d117" = 4
  dimension "d118" = 0
  dimension "d119" = 4
extrude "Extrusion6" cut sketch "Sketch6" against normal blind 5
sketch "Sketch7" plane through (0, 5, 0) normal (0, 1, 0) x (1, 0, 0)
  line L0 (16, 76) -> (25, 76) construction
  line L1 (25, 76) -> (25, 86) construction
  line L2 (28.5, 86) -> (25, 86) construction
  line L3 (28.5, 106) -> (28.5, 86) construction
  line L4 (25, 106) -> (28.5, 106) construction
  line L5 (25, 106) -> (25, 116) construction
  line L6 (25, 116) -> (16, 116) construction
  line L7 (16, 116) -> (16, 114) construction
  line L8 (16, 114) -> (12, 114) construction
  line L9 (12, 114) -> (12, 116) construction
  line L10 (12, 116) -> (8, 116) construction
  line L11 (8, 116) -> (8, 120) construction
  line L12 (8, 120) -> (12, 120) construction
  line L13 (12, 120) -> (12, 122) construction
  line L14 (12, 122) -> (16, 122) construction
  line L15 (16, 122) -> (16, 120) construction
  line L16 (16, 120) -> (25, 120) construction
  line L17 (25, 120) -> (25, 130) construction
  line L18 (25, 130) -> (-30, 130) construction
  line L19 (-30, 130) -> (-30, 105) construction
  line L20 (-30, 105) -> (-25, 105) construction
  line L21 (-25, 105) -> (-25, 45) construction
  line L22 (-25, 45) -> (-30, 45) construction
  line L23 (-30, 45) -> (-30, -45) construction
  line L24 (-30, -45) -> (-25, -45) construction
  line L25 (-25, -45) -> (-25, -105) construction
  line L26 (-25, -105) -> (-30, -105) construction
  line L27 (-30, -105) -> (-30, -130) construction
  line L28 (-30, -130) -> (25, -130) construction
  line L29 (25, -130) -> (25, -120) construction
  line L30 (25, -120) -> (16, -120) construction
  line L31 (16, -120) -> (16, -122) construction
  line L32 (16, -122) -> (12, -122) construction
  line L33 (12, -122) -> (12, -120) construction
  line L34 (12, -120) -> (8, -120) construction
  line L35 (8, -120) -> (8, -116) construction
  line L36 (8, -116) -> (12, -116) construction
  line L37 (12, -116) -> (12, -114) construction
  line L38 (12, -114) -> (16, -114) construction
  line L39 (16, -114) -> (16, -116) construction
  line L40 (16, -116) -> (25, -116) construction
  line L41 (25, -116) -> (25, -106) construction
  line L42 (25, -106) -> (28.5, -106) construction
  line L43 (28.5, -106) -> (28.5, -86) construction
  line L44 (28.5, -86) -> (25, -86) construction
  line L45 (25, -86) -> (25, -76) construction
  line L46 (25, -76) -> (16, -76) construction
  line L47 (16, -76) -> (16, -78) construction
  line L48 (16, -78) -> (12, -78) construction
  line L49 (12, -78) -> (12, -76) construction
  line L50 (12, -76) -> (8, -76) construction
  line L51 (8, -76) -> (8, -72) construction
  line L52 (8, -72) -> (12, -72) construction
  line L53 (12, -72) -> (12, -70) construction
  line L54 (12, -70) -> (16, -70) construction
  line L55 (16, -70) -> (16, -72) construction
  line L56 (16, -72) -> (25, -72) construction
  line L57 (25, -72) -> (25, -30) construction
  line L58 (25, -30) -> (28.5, -30) construction
  line L59 (28.5, -30) -> (28.5, 30) construction
  line L60 (28.5, 30) -> (25, 30) construction
  line L61 (25, 30) -> (25, 72) construction
  line L62 (25, 72) -> (16, 72) construction
  line L63 (16, 72) -> (16, 70) construction
  line L64 (16, 70) -> (12, 70) construction
  line L65 (12, 70) -> (12, 72) construction
  line L66 (12, 72) -> (8, 72) construction
  line L67 (8, 72) -> (8, 76) construction
  line L68 (8, 76) -> (12, 76) construction
  line L69 (12, 76) -> (12, 78) construction
  line L70 (12, 78) -> (16, 78) construction
  line L71 (16, 78) -> (16, 76) construction
  line L72 (-12.5, 35) -> (-12.5, 40) construction
  line L73 (-12.5, 40) -> (12.5, 40) construction
  line L74 (12.5, 40) -> (12.5, 35) construction
  line L75 (12.5, 35) -> (-12.5, 35) construction
  line L76 (12.5, -40) -> (-12.5, -40) construction
  line L77 (-12.5, -40) -> (-12.5, -35) construction
  line L78 (-12.5, -35) -> (12.5, -35) construction
  line L79 (12.5, -35) -> (12.5, -40) construction
  circle A0 centre (-5, 15) radius 2 construction
  circle A1 centre (-5, -15) radius 2 construction
  line L80 (7.5, -95) -> (7.5, -100) construction
  line L81 (7.5, -100) -> (-7.5, -100) construction
  line L82 (-7.5, -100) -> (-7.5, -95) construction
  line L83 (-7.5, -95) -> (7.5, -95) construction
  circle A2 centre (-15.5, -97.5) radius 2 construction
  circle A3 centre (-15.5, 106.5) radius 2 construction
  circle A4 centre (15.5, 106.5) radius 2 construction
  circle A5 centre (15.5, -97.5) radius 2 construction
  line L84 (7.5, 104) -> (-7.5, 104) construction
  line L85 (-7.5, 104) -> (-7.5, 109) construction
  line L86 (-7.5, 109) -> (7.5, 109) construction
  line L87 (7.5, 109) -> (7.5, 104) construction
  line L88 (-20, -130) -> (10, -130)
  line L89 (10, -130) -> (10, -133.5)
  line L90 (10, -133.5) -> (-20, -133.5)
  line L91 (-20, -133.5) -> (-20, -130)
  line L92 (25, 130) -> (-30, 130) construction
  line L93 (-20, 130) -> (10, 130)
  line L94 (10, 130) -> (10, 133.5)
  line L95 (10, 133.5) -> (-20, 133.5)
  line L96 (-20, 133.5) -> (-20, 130)
  point P0 (0, 0)
  dimension "d104" = 30
  dimension "d105" = 3.5
  dimension "d106" = 10
  dimension "d107" = 30
  dimension "d108" = 3.5
  dimension "d109" = 10
extrude "Extrusion7" add sketch "Sketch7" against normal blind 5
properties part number "Cubierta_Rodamientos"
